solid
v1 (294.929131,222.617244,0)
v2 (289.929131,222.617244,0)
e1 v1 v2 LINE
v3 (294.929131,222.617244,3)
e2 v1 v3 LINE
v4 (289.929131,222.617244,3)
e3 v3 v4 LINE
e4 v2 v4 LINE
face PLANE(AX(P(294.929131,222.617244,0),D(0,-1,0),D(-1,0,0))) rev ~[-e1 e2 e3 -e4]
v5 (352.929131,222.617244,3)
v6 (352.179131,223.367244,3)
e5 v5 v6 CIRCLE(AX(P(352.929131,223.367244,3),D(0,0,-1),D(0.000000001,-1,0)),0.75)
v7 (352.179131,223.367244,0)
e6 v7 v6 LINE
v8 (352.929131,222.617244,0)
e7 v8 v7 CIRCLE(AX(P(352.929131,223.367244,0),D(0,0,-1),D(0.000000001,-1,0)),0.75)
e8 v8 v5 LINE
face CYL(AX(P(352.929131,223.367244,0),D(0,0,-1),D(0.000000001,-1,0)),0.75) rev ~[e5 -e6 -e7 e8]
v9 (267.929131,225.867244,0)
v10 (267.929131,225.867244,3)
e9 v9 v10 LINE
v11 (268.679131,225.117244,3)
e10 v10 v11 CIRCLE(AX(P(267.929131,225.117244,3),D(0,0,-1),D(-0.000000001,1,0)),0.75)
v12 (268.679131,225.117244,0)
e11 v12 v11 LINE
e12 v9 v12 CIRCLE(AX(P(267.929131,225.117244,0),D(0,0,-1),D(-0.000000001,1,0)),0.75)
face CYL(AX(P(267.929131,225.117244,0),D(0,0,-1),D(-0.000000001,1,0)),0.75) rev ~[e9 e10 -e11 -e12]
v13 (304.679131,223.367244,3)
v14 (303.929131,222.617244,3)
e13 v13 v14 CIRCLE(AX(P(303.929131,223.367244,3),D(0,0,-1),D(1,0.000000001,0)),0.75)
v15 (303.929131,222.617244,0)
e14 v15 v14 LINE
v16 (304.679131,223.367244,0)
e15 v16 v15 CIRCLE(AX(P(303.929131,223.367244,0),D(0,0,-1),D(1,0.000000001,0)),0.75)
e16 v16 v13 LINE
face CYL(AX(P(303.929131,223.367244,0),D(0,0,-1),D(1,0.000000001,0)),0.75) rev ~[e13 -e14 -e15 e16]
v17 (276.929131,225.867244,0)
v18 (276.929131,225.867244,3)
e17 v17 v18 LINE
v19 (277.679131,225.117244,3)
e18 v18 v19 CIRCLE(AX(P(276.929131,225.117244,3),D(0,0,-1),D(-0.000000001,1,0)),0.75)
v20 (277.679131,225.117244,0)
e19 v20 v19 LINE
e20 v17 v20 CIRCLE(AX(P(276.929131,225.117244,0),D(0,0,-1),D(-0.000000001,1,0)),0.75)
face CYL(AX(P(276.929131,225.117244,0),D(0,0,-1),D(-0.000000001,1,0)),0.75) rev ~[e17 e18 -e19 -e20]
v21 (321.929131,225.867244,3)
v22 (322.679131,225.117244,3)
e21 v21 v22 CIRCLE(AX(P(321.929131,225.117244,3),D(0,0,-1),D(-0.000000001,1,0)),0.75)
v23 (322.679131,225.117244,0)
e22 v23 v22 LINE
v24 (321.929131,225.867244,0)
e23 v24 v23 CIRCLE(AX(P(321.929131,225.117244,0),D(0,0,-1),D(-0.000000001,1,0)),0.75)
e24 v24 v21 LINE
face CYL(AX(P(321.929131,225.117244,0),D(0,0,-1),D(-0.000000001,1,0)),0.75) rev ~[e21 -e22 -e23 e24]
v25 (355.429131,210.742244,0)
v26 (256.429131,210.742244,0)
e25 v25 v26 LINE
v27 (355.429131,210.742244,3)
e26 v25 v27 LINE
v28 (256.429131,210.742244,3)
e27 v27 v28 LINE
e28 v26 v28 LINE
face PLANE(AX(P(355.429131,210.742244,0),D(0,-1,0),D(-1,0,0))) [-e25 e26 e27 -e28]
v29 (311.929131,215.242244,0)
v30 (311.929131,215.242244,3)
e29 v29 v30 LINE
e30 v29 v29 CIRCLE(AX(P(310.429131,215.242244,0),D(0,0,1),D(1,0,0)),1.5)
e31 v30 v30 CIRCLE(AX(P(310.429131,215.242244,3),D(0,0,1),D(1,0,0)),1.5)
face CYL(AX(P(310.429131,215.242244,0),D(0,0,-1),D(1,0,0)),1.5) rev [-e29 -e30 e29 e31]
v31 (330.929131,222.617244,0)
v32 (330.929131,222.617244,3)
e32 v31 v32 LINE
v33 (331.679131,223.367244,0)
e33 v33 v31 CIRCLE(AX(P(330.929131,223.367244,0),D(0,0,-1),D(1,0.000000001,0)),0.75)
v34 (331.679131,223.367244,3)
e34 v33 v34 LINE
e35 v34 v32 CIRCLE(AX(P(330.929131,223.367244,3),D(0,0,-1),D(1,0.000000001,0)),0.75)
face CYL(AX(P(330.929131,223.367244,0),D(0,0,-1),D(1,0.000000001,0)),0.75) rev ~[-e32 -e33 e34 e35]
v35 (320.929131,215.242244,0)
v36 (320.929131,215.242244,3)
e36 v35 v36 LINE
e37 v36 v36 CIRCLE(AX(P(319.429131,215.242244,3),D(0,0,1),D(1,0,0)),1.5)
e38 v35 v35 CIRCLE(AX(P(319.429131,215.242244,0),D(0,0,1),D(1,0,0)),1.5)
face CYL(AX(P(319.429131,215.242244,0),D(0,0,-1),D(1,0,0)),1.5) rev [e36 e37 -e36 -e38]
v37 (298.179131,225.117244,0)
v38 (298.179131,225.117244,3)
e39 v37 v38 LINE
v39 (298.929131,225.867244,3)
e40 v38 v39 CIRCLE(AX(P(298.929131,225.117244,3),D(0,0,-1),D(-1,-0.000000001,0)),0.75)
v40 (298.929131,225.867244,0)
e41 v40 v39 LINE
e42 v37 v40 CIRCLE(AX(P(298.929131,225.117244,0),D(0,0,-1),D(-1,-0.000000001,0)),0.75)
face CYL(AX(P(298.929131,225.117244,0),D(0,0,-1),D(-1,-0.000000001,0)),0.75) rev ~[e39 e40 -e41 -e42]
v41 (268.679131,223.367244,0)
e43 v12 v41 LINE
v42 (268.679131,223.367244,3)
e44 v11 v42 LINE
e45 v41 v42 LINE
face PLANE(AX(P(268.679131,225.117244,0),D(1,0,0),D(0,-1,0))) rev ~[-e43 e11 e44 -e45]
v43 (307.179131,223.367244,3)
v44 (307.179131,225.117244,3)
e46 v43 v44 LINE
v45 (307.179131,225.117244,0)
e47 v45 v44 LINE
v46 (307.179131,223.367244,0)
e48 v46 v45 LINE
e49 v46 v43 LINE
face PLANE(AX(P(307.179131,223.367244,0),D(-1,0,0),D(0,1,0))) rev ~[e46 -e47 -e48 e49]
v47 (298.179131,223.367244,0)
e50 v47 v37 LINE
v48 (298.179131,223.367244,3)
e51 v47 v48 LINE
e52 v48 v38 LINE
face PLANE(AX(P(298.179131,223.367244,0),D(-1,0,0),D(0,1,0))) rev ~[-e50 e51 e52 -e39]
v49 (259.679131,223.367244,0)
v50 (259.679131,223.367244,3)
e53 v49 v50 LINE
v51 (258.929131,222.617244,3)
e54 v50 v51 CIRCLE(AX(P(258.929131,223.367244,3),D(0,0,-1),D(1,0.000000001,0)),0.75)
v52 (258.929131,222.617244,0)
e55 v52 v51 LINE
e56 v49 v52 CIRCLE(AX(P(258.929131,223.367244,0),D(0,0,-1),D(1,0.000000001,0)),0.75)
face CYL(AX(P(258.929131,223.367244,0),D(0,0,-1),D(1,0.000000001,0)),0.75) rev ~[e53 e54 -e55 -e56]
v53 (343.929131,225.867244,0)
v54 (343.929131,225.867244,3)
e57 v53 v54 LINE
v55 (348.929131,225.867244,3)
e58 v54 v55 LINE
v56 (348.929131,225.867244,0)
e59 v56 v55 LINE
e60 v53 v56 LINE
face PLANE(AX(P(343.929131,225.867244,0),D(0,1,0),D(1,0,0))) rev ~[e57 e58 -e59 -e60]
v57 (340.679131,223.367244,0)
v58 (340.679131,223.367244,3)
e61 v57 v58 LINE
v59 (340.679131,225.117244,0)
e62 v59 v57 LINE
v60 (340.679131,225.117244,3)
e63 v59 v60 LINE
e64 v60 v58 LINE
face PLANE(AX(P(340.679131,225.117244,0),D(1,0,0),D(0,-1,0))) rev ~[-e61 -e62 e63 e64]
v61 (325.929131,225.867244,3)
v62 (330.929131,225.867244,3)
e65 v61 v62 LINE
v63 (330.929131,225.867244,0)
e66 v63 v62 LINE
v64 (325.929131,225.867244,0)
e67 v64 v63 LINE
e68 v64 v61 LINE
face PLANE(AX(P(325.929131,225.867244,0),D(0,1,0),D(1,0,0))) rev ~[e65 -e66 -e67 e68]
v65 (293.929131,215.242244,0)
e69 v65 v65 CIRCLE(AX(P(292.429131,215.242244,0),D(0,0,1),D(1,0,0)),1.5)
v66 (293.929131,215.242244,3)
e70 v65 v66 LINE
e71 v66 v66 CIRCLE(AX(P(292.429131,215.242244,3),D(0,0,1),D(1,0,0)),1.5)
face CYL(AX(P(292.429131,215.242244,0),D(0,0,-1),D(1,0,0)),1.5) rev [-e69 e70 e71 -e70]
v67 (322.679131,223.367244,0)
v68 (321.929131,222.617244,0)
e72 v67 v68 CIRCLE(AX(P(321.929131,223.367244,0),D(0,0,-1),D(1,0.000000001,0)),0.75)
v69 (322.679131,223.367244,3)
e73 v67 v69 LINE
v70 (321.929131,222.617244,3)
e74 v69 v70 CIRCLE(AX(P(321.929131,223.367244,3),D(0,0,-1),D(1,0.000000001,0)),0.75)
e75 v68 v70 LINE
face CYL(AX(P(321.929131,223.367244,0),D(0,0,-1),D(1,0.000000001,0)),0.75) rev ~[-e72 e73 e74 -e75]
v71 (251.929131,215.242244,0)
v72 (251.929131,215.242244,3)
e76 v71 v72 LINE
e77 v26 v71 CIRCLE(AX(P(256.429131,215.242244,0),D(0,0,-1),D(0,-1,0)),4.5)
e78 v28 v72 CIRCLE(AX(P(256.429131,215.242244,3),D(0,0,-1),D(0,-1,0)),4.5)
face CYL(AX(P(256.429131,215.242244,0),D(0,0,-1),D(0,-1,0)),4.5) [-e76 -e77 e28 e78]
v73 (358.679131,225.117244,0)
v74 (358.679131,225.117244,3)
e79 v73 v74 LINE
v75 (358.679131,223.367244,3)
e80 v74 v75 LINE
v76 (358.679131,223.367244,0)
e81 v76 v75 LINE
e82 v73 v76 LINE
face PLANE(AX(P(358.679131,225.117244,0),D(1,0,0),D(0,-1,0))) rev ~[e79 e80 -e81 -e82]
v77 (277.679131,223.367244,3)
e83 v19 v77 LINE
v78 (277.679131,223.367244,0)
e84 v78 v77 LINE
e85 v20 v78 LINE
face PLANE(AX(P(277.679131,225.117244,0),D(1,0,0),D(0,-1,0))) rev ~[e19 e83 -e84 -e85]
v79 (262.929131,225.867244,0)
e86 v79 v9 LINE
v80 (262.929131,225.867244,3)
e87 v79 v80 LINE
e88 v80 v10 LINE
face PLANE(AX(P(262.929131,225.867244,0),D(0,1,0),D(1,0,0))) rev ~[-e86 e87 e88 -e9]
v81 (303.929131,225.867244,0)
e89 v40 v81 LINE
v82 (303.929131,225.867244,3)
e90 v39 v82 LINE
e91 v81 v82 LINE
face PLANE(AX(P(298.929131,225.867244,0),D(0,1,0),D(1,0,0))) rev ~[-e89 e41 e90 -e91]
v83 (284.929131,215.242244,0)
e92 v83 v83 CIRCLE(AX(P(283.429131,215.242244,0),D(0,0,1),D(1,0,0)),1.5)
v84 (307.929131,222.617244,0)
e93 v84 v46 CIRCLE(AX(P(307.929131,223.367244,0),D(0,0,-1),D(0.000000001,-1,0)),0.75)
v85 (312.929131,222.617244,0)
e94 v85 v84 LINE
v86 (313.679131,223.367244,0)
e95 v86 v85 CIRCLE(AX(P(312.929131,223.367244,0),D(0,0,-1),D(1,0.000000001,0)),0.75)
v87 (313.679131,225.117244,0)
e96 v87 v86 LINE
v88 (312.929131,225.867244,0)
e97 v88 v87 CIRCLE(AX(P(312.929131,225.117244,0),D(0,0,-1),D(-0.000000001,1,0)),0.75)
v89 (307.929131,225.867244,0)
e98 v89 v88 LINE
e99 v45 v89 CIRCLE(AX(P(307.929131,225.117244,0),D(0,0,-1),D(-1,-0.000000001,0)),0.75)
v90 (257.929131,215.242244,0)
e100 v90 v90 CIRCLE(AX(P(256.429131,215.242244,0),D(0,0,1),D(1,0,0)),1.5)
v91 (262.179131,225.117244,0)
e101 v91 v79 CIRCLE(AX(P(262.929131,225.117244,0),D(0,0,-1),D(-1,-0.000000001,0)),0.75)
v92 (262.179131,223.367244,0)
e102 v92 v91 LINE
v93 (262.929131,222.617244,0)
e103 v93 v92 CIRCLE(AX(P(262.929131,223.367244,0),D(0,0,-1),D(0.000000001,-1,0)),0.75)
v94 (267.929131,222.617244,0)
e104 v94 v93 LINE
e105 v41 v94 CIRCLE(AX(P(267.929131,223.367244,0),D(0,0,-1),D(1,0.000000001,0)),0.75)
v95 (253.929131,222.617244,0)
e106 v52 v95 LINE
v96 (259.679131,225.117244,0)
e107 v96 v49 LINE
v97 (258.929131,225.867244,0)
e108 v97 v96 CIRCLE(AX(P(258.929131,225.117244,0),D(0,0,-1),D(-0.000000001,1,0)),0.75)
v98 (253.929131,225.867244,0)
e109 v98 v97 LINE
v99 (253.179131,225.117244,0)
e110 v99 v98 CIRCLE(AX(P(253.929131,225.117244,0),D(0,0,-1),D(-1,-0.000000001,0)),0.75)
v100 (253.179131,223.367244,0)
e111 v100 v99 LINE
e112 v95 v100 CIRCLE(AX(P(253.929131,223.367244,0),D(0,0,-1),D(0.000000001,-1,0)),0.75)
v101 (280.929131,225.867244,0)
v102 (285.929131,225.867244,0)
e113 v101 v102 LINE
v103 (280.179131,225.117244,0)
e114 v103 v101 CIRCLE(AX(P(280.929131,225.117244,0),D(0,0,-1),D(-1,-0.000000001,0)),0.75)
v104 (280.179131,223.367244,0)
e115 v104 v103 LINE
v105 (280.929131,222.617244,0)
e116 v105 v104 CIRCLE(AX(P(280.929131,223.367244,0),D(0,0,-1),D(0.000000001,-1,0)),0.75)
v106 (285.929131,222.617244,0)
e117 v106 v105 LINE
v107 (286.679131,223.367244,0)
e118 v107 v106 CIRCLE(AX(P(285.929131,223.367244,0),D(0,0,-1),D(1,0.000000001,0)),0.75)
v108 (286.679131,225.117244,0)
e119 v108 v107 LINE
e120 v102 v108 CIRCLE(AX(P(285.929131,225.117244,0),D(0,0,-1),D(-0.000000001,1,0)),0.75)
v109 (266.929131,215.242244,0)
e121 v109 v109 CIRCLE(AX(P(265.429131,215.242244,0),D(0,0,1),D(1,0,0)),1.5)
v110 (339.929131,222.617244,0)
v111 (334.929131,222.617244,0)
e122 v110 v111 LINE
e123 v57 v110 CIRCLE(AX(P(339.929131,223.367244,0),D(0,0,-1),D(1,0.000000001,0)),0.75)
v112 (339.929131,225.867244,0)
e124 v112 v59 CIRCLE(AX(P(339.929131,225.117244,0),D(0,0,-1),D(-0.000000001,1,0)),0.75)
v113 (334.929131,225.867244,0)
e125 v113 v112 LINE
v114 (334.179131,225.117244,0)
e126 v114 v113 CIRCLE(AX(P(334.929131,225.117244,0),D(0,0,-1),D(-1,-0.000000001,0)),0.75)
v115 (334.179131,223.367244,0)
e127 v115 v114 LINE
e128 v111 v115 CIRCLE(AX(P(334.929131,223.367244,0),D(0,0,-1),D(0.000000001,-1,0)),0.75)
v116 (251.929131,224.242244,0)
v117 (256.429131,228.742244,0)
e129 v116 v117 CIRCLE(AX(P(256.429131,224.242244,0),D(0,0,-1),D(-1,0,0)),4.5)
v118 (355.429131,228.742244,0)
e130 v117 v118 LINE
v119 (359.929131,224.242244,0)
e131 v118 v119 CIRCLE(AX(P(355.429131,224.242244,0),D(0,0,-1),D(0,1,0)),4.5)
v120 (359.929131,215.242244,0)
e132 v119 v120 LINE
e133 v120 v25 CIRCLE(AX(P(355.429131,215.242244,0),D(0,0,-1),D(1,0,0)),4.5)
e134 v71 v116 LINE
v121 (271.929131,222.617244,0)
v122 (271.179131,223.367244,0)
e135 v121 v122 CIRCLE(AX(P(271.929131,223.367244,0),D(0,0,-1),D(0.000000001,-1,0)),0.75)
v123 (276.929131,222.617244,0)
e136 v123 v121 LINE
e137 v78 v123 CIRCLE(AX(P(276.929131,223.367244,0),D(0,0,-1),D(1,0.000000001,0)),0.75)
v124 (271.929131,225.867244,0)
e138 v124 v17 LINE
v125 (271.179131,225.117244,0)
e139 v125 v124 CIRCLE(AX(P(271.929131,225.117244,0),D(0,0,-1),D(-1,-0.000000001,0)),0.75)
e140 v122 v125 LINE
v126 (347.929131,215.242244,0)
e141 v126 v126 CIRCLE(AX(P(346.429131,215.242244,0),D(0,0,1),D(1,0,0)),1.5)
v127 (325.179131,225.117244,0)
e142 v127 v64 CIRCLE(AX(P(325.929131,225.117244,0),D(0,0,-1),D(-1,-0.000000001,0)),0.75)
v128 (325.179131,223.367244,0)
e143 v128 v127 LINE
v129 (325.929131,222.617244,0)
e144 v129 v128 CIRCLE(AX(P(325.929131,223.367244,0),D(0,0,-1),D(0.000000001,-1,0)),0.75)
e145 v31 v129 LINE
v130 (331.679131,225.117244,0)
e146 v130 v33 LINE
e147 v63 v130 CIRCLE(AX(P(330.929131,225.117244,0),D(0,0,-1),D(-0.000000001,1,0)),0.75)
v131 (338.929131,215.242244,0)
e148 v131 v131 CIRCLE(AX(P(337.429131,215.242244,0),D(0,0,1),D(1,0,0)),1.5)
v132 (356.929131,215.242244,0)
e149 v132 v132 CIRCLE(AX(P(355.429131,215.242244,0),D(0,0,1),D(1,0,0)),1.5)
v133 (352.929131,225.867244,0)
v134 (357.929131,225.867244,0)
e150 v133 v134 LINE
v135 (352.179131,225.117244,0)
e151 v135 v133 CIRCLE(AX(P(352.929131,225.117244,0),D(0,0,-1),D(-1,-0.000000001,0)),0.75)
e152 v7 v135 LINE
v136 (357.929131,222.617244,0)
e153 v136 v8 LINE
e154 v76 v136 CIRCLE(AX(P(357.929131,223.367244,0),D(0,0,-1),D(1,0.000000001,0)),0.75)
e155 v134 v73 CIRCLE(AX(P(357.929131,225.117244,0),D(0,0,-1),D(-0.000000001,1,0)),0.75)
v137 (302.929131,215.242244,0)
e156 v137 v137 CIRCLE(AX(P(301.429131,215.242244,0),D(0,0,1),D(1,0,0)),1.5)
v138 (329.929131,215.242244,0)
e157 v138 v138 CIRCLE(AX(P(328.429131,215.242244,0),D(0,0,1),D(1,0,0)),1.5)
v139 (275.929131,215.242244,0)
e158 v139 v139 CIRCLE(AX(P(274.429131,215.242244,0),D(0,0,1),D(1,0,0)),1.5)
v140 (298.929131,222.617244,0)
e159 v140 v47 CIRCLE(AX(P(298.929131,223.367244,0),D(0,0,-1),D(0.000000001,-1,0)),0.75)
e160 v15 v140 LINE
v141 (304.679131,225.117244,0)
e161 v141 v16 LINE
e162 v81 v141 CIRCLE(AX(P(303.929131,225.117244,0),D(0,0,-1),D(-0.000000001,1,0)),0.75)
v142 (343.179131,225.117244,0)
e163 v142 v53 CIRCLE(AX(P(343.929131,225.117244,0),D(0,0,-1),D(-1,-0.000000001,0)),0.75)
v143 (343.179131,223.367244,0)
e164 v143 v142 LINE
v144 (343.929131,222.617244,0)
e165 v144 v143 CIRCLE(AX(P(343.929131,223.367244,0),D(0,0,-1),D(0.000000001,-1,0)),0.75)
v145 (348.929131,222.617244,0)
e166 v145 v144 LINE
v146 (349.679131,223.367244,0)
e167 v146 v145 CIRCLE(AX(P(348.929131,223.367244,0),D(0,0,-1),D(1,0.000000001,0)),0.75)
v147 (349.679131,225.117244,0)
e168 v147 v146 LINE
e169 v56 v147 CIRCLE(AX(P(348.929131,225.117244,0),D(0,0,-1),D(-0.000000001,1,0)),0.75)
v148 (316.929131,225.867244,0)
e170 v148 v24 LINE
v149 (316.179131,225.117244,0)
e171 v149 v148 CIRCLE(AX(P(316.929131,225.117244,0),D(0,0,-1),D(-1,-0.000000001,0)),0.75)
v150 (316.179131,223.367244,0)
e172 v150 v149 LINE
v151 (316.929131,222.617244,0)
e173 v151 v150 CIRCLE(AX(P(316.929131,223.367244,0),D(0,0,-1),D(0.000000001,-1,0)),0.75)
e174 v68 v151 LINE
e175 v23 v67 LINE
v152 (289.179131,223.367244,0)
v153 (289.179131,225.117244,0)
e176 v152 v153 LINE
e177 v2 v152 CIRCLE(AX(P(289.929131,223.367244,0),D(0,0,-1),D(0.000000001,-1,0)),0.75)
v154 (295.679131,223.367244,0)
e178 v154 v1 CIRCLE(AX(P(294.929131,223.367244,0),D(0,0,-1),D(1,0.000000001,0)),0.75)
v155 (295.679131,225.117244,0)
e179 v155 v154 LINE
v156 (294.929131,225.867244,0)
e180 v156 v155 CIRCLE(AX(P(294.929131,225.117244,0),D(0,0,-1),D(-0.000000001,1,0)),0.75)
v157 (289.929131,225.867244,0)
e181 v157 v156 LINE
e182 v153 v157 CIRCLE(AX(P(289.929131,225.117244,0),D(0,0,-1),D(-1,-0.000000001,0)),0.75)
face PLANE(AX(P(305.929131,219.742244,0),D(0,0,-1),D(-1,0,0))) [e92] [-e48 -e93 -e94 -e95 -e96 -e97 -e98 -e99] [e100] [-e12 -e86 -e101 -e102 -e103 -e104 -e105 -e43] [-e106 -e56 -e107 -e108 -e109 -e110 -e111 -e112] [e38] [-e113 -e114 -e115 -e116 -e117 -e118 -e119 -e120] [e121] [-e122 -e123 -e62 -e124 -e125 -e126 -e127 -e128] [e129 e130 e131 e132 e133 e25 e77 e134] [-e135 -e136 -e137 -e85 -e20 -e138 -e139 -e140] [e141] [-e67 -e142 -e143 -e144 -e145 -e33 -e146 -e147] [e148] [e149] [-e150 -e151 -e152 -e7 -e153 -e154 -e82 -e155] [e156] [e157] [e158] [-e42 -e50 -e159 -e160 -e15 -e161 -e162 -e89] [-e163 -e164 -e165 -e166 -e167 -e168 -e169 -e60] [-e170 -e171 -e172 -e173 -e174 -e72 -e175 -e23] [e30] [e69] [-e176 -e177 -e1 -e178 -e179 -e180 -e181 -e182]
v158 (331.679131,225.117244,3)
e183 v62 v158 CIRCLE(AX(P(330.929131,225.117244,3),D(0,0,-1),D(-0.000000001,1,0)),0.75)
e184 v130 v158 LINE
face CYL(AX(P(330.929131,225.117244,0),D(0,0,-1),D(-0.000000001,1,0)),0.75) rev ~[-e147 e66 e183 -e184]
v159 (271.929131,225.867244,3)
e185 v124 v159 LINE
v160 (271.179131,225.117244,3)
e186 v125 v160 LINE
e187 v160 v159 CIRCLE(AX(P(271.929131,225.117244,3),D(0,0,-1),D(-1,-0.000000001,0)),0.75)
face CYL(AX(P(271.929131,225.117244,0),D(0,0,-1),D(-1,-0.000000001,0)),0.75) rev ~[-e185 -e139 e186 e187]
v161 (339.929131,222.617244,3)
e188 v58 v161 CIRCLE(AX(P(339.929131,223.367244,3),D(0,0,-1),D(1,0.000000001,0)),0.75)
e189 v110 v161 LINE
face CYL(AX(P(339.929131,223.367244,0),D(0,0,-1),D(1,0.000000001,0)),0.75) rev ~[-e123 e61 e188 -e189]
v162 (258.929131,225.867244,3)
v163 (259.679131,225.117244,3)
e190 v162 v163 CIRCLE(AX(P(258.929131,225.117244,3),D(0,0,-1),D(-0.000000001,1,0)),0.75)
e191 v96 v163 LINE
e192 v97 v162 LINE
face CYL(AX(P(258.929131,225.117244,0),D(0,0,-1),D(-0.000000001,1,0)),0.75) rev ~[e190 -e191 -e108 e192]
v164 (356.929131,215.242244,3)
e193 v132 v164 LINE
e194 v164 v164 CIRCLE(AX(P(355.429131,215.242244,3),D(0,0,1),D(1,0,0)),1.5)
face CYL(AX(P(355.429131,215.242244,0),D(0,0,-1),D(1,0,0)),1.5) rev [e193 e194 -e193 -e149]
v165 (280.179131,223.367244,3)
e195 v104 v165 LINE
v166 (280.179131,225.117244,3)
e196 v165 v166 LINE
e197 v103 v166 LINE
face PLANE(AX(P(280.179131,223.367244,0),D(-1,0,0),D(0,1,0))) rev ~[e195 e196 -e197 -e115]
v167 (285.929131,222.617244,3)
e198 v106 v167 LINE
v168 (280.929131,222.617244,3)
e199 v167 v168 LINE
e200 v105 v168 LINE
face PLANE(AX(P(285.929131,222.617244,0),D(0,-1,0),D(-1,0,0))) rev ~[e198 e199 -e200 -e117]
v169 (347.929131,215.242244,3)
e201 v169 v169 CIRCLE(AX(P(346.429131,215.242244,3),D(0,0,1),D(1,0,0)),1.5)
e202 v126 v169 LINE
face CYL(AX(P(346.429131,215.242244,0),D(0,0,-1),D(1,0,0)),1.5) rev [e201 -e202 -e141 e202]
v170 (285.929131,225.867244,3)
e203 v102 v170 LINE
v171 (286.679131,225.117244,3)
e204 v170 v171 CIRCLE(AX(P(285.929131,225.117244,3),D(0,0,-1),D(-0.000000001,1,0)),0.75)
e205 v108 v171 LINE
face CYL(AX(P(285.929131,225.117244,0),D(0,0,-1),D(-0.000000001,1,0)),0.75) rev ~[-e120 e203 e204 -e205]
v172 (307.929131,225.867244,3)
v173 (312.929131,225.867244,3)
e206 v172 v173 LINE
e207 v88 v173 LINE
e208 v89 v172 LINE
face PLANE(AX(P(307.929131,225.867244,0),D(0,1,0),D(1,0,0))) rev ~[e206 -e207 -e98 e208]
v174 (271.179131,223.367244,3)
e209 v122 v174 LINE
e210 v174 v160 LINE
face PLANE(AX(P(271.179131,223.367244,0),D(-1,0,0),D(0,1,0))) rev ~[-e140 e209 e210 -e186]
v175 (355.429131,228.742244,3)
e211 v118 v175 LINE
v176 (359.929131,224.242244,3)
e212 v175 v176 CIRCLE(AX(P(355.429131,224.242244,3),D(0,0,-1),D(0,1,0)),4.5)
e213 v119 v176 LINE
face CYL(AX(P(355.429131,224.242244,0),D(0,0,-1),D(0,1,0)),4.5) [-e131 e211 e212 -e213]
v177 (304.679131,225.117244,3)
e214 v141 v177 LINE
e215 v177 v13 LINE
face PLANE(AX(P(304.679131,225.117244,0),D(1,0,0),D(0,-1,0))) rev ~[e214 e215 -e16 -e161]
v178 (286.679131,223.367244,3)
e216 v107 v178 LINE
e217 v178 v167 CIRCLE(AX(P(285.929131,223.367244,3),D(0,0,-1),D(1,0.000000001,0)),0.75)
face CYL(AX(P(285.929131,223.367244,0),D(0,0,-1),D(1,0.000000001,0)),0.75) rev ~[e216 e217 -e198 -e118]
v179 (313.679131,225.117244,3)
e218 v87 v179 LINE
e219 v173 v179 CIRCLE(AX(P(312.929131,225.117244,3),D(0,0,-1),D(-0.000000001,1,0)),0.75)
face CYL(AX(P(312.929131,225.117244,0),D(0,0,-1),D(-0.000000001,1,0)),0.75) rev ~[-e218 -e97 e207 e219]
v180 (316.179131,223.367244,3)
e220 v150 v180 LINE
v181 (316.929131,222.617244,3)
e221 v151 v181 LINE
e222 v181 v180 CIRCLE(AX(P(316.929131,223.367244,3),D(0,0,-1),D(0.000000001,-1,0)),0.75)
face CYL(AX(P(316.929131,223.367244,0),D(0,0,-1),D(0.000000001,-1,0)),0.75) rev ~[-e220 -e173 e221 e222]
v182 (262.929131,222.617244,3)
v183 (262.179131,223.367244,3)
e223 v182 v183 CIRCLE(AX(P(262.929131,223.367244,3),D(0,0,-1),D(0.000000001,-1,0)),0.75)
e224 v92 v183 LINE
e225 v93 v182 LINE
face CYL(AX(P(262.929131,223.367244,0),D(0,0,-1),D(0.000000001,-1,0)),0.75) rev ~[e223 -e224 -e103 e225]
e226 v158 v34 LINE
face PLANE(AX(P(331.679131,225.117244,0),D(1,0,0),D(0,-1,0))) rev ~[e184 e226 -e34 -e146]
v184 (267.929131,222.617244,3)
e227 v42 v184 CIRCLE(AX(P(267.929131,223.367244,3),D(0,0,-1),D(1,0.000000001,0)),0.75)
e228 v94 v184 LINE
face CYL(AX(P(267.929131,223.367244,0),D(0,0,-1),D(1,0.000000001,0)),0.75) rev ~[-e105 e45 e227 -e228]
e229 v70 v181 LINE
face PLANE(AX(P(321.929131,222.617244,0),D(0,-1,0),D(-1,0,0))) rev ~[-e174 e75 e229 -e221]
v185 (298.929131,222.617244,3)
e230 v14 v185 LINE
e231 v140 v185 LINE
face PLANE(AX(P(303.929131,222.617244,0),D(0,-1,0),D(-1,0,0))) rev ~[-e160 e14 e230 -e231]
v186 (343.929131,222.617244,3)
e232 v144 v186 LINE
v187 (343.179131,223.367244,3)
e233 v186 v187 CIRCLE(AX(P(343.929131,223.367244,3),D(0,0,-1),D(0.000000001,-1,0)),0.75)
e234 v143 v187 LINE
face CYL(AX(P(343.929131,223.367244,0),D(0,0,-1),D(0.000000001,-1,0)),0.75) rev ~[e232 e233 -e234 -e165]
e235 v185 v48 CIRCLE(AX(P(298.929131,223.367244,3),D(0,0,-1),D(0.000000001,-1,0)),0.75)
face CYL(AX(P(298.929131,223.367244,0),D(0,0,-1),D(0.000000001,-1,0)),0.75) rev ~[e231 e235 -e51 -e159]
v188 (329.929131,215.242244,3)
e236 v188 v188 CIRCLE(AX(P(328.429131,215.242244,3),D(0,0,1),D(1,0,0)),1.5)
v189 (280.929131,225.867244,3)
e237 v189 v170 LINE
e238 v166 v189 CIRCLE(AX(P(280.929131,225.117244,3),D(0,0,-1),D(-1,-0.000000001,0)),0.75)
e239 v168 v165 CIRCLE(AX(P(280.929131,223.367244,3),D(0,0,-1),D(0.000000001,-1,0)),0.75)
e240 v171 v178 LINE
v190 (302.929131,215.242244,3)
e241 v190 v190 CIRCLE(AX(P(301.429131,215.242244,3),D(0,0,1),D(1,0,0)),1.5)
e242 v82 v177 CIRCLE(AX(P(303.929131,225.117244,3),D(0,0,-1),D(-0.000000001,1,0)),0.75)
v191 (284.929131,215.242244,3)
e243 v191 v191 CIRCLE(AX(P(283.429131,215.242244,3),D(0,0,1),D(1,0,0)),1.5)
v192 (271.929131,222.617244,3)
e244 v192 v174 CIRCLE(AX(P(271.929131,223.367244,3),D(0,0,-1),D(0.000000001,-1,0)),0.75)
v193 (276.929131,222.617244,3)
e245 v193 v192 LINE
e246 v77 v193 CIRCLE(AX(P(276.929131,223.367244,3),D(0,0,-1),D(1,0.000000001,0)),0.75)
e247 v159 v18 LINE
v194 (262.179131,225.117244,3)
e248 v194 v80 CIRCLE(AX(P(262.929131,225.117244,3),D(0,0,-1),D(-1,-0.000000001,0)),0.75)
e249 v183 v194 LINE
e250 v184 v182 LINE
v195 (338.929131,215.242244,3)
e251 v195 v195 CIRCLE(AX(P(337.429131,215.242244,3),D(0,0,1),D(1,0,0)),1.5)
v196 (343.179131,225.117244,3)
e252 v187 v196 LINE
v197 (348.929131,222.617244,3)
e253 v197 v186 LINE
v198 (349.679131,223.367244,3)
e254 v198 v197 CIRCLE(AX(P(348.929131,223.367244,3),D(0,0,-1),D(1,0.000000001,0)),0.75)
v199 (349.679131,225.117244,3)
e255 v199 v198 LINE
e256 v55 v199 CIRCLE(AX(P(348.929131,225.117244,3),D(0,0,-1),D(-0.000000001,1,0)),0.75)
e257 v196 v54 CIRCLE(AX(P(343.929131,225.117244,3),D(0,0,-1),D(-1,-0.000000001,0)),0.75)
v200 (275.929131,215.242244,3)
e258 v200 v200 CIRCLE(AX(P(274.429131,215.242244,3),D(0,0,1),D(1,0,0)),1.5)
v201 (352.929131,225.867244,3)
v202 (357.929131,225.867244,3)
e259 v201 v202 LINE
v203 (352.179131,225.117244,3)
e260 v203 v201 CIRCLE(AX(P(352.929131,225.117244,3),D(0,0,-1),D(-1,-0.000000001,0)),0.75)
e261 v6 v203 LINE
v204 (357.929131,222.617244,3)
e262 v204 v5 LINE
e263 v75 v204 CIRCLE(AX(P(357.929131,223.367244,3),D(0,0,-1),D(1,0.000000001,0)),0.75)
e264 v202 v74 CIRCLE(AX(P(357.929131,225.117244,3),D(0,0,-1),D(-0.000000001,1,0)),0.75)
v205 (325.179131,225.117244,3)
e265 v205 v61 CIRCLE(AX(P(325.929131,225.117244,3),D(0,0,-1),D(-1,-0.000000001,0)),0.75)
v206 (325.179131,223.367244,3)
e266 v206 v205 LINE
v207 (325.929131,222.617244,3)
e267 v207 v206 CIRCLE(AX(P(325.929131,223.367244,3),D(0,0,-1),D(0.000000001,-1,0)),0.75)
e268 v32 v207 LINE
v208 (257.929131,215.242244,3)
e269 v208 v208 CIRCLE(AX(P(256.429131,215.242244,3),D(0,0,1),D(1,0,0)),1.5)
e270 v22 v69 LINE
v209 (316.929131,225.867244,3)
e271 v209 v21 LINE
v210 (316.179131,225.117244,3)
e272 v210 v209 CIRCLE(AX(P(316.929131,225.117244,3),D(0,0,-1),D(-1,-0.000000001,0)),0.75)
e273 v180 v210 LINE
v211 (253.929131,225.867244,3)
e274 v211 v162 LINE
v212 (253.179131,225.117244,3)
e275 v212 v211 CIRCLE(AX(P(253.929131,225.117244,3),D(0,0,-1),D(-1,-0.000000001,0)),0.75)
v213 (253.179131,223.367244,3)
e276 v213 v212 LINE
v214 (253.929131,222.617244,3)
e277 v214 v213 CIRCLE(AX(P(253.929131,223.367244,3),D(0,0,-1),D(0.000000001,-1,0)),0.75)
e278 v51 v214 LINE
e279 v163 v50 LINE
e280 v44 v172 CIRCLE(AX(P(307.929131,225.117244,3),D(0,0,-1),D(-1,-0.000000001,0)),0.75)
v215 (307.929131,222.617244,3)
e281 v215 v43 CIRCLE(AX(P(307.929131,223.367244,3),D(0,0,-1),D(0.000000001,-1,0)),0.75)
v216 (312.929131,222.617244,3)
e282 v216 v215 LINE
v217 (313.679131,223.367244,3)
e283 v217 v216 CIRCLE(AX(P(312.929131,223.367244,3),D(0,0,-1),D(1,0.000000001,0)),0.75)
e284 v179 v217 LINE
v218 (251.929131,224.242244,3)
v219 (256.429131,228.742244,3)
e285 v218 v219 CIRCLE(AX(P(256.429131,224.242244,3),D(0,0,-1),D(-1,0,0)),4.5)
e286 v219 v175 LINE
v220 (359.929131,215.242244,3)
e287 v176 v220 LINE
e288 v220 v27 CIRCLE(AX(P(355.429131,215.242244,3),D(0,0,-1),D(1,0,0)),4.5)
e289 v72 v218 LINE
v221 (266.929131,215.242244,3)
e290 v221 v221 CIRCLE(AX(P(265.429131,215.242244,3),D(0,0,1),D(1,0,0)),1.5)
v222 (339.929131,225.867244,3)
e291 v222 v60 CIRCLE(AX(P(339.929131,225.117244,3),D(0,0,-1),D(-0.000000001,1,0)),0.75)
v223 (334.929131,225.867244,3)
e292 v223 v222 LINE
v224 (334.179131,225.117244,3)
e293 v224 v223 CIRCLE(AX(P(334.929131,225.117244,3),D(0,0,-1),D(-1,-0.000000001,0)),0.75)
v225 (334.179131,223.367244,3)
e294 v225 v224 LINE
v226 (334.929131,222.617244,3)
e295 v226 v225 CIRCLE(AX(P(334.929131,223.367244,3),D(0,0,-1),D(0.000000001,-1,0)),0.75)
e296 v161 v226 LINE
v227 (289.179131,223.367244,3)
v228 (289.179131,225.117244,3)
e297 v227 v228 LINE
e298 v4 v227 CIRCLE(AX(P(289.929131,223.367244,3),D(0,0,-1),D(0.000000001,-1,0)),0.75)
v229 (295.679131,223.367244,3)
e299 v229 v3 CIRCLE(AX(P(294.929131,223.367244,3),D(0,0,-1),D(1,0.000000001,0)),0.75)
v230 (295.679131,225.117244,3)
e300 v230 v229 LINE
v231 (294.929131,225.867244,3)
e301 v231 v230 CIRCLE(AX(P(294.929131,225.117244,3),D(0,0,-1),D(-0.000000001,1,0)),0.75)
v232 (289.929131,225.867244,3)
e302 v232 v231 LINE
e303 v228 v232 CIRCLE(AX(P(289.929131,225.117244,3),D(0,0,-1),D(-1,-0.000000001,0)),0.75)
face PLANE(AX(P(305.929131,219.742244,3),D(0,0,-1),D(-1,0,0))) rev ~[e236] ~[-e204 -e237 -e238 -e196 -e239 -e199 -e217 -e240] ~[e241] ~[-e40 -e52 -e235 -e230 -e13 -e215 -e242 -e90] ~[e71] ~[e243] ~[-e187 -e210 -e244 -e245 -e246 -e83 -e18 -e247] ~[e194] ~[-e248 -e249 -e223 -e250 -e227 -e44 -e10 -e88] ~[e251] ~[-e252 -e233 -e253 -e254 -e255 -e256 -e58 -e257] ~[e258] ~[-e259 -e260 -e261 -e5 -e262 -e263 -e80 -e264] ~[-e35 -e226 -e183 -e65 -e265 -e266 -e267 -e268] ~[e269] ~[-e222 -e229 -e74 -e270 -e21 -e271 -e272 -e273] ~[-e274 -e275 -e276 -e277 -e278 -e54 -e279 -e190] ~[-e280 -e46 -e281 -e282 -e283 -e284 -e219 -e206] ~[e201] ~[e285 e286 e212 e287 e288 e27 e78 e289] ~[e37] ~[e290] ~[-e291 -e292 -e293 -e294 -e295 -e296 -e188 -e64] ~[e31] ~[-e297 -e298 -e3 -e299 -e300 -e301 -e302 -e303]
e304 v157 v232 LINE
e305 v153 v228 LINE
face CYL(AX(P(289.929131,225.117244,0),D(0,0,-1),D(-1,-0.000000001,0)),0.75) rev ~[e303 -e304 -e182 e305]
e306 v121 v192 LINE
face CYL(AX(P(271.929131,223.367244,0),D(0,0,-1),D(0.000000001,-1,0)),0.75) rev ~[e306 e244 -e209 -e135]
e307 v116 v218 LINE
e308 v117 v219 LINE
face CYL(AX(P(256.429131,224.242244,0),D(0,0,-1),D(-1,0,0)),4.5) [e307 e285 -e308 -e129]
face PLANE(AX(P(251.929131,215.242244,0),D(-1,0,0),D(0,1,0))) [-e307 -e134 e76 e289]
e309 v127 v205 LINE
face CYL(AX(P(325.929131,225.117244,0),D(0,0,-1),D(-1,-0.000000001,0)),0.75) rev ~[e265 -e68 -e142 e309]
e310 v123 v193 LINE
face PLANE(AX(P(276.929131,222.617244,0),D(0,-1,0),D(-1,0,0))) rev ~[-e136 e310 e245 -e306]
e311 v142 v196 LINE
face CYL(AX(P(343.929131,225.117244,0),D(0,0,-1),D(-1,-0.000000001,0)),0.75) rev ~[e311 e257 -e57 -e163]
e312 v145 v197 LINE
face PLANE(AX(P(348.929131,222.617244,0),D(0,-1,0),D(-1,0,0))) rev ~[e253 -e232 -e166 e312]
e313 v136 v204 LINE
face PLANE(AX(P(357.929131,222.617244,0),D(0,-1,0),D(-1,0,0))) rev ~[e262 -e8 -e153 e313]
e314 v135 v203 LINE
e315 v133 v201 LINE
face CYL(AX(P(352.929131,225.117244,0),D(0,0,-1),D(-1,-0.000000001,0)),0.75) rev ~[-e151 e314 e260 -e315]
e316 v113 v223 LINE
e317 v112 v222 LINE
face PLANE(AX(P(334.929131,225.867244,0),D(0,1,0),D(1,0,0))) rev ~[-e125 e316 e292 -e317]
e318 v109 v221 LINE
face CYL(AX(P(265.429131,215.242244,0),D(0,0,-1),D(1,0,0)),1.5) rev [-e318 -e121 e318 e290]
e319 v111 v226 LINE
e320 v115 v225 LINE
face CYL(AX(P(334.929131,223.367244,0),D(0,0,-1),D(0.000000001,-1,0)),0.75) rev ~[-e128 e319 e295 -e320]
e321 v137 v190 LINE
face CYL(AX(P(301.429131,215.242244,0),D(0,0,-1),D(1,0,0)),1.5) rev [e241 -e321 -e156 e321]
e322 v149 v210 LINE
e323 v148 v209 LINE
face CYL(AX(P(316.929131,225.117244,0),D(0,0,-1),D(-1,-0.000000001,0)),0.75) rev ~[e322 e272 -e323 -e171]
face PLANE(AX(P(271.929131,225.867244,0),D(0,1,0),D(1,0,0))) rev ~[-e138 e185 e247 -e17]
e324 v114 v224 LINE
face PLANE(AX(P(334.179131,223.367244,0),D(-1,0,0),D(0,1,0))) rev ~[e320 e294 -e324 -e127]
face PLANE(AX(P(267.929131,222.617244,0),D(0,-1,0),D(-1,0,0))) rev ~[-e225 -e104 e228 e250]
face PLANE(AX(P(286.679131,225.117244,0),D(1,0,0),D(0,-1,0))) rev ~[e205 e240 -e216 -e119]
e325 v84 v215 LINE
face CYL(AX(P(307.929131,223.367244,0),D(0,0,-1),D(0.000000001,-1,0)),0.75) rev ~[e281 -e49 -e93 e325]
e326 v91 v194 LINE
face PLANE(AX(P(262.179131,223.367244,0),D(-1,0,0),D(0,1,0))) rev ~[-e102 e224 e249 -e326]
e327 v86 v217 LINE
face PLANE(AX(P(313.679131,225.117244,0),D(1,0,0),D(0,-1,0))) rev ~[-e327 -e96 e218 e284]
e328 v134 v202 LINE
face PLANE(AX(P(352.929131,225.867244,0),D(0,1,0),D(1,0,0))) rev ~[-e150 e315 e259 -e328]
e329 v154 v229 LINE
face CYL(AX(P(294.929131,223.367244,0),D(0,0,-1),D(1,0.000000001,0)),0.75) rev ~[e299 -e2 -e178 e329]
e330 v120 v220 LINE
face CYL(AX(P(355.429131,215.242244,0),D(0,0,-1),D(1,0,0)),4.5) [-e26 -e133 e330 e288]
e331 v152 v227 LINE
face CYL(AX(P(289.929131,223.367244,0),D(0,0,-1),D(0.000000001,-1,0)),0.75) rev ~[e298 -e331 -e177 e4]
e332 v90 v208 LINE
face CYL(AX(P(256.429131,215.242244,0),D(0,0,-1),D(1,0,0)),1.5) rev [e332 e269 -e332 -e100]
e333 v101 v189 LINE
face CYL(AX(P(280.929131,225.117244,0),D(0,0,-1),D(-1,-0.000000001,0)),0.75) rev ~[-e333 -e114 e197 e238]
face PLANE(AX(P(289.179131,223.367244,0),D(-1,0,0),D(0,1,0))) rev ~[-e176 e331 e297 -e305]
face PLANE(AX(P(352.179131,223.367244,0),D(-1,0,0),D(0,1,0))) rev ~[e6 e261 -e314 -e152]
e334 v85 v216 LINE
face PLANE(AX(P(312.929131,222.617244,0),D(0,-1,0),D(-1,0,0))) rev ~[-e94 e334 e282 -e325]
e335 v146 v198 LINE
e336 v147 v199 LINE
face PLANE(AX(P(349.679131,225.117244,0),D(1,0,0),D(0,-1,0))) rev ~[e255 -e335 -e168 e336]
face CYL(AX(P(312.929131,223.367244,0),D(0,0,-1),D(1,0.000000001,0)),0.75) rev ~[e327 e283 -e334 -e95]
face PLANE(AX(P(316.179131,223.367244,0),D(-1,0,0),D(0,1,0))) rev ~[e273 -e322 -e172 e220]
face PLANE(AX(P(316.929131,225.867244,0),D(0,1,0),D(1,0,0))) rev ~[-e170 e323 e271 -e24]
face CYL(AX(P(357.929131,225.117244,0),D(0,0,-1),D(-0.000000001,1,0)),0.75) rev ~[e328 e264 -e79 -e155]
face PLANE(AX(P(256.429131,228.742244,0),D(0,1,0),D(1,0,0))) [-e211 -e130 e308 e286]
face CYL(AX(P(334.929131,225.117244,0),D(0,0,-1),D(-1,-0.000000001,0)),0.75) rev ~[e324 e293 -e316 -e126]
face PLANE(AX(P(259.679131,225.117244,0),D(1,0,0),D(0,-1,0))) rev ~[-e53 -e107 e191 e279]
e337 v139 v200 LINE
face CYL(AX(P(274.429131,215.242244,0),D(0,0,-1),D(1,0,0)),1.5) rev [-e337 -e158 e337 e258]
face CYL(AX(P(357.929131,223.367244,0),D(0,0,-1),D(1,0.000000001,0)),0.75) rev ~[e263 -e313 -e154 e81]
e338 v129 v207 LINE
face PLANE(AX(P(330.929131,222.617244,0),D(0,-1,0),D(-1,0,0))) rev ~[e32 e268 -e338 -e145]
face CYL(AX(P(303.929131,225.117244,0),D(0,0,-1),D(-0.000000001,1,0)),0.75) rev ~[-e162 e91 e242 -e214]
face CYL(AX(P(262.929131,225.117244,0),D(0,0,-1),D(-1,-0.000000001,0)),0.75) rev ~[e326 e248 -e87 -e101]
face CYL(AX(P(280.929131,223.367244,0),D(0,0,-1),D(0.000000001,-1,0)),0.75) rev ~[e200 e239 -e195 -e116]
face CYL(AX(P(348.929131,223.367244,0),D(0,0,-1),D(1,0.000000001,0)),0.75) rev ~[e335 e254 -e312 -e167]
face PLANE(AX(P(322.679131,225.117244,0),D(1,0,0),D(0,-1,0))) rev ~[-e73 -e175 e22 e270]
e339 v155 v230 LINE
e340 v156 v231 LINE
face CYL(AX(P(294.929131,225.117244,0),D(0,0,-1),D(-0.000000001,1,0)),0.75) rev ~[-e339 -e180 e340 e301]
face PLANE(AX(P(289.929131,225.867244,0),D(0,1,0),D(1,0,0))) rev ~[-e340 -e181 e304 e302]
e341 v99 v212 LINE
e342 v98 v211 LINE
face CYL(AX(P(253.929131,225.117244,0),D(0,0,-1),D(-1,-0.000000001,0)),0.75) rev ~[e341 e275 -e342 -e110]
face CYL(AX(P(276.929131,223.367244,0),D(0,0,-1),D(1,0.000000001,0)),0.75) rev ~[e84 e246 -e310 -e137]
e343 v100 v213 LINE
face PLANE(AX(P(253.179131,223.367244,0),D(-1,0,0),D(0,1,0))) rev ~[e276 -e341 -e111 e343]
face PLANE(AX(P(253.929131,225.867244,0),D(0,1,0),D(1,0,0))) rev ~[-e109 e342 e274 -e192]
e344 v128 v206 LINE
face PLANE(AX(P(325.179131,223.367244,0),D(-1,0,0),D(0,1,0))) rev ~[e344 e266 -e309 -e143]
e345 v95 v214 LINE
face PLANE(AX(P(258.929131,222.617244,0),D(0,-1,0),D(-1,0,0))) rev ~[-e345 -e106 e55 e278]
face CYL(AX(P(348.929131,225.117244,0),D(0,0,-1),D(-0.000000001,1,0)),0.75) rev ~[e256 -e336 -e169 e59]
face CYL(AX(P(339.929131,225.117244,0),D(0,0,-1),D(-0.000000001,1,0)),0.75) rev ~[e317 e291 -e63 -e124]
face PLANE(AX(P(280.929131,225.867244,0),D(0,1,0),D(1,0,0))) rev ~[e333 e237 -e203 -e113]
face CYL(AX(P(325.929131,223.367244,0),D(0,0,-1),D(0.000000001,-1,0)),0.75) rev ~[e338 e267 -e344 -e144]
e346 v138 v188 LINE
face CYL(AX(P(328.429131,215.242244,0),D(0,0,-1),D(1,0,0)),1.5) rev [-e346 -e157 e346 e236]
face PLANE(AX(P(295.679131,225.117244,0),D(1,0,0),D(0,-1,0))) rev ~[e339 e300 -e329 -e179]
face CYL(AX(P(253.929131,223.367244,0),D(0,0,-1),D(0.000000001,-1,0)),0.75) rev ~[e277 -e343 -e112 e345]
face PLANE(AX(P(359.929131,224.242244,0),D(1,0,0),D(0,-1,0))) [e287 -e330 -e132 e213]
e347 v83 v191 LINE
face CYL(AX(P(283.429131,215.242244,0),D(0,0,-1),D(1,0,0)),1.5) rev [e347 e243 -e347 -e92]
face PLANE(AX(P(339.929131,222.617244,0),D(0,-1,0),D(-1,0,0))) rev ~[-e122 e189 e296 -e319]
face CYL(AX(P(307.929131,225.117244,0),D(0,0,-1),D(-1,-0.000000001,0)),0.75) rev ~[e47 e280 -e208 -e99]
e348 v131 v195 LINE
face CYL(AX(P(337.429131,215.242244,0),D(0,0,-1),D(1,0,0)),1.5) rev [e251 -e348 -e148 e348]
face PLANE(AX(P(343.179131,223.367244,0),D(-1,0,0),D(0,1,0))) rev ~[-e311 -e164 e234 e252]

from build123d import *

# Parameters (mm, degrees)
MODEL_R                 = 1.5
SALIENTE_EXTRUIR1_DEPTH = 3


with BuildPart() as part:
    # Model → Saliente-Extruir1 (new body)
    with BuildSketch(Plane.XY):
        with BuildLine():
            Line((256.429131311, 228.742243614), (355.429131311, 228.742243614))
            ThreePointArc((355.429131311, 228.742243614), (358.611111826, 227.424224129), (359.929131311, 224.242243614))
            Line((359.929131311, 224.242243614), (359.929131311, 215.242243614))
            ThreePointArc((359.929131311, 215.242243614), (358.611111826, 212.060263099), (355.429131311, 210.742243614))
            Line((355.429131311, 210.742243614), (256.429131311, 210.742243614))
            ThreePointArc((256.429131311, 210.742243614), (253.247150795, 212.060263099), (251.929131311, 215.242243614))
            Line((251.929131311, 215.242243614), (251.929131311, 224.242243614))
            ThreePointArc((251.929131311, 224.242243614), (253.247150795, 227.424224129), (256.429131311, 228.742243614))
        make_face()
        with Locations((337.429131311, 215.242243614)):
            Circle(MODEL_R, mode=Mode.SUBTRACT)
        with Locations((319.429131311, 215.242243614)):
            Circle(MODEL_R, mode=Mode.SUBTRACT)
        with Locations((328.429131311, 215.242243614)):
            Circle(MODEL_R, mode=Mode.SUBTRACT)
        with Locations((310.429131311, 215.242243614)):
            Circle(MODEL_R, mode=Mode.SUBTRACT)
        with Locations((292.429131311, 215.242243614)):
            Circle(MODEL_R, mode=Mode.SUBTRACT)
        with Locations((301.429131311, 215.242243614)):
            Circle(MODEL_R, mode=Mode.SUBTRACT)
        with Locations((274.429131311, 215.242243614)):
            Circle(MODEL_R, mode=Mode.SUBTRACT)
        with Locations((283.429131311, 215.242243614)):
            Circle(MODEL_R, mode=Mode.SUBTRACT)
        with Locations((265.429131311, 215.242243614)):
            Circle(MODEL_R, mode=Mode.SUBTRACT)
        with Locations((256.429131311, 215.242243614)):
            Circle(MODEL_R, mode=Mode.SUBTRACT)
        with Locations((346.429131311, 215.242243614)):
            Circle(MODEL_R, mode=Mode.SUBTRACT)
        with Locations((355.429131311, 215.242243614)):
            Circle(MODEL_R, mode=Mode.SUBTRACT)
        with BuildLine():
            Line((267.929131311, 222.617243614), (262.929131311, 222.617243614))
            ThreePointArc((262.929131311, 222.617243614), (262.398801225, 222.836913528), (262.179131311, 223.367243614))
            Line((262.179131311, 223.367243614), (262.179131311, 225.117243614))
            ThreePointArc((262.179131311, 225.117243614), (262.398801225, 225.6475737), (262.929131311, 225.867243614))
            Line((262.929131311, 225.867243614), (267.929131311, 225.867243614))
            ThreePointArc((267.929131311, 225.867243614), (268.459461397, 225.6475737), (268.679131311, 225.117243614))
            Line((268.679131311, 225.117243614), (268.679131311, 223.367243614))
            ThreePointArc((268.679131311, 223.367243614), (268.459461397, 222.836913528), (267.929131311, 222.617243614))
        make_face(mode=Mode.SUBTRACT)
        with BuildLine():
            Line((285.929131311, 222.617243614), (280.929131311, 222.617243614))
            ThreePointArc((280.929131311, 222.617243614), (280.398801225, 222.836913528), (280.179131311, 223.367243614))
            Line((280.179131311, 223.367243614), (280.179131311, 225.117243614))
            ThreePointArc((280.179131311, 225.117243614), (280.398801225, 225.6475737), (280.929131311, 225.867243614))
            Line((280.929131311, 225.867243614), (285.929131311, 225.867243614))
            ThreePointArc((285.929131311, 225.867243614), (286.459461397, 225.6475737), (286.679131311, 225.117243614))
            Line((286.679131311, 225.117243614), (286.679131311, 223.367243614))
            ThreePointArc((286.679131311, 223.367243614), (286.459461397, 222.836913528), (285.929131311, 222.617243614))
        make_face(mode=Mode.SUBTRACT)
        with BuildLine():
            Line((258.929131311, 222.617243614), (253.929131311, 222.617243614))
            ThreePointArc((253.929131311, 222.617243614), (253.398801225, 222.836913528), (253.179131311, 223.367243614))
            Line((253.179131311, 223.367243614), (253.179131311, 225.117243614))
            ThreePointArc((253.179131311, 225.117243614), (253.398801225, 225.6475737), (253.929131311, 225.867243614))
            Line((253.929131311, 225.867243614), (258.929131311, 225.867243614))
            ThreePointArc((258.929131311, 225.867243614), (259.459461397, 225.6475737), (259.679131311, 225.117243614))
            Line((259.679131311, 225.117243614), (259.679131311, 223.367243614))
            ThreePointArc((259.679131311, 223.367243614), (259.459461397, 222.836913528), (258.929131311, 222.617243614))
        make_face(mode=Mode.SUBTRACT)
        with BuildLine():
            Line((276.929131311, 222.617243614), (271.929131311, 222.617243614))
            ThreePointArc((271.929131311, 222.617243614), (271.398801225, 222.836913528), (271.179131311, 223.367243614))
            Line((271.179131311, 223.367243614), (271.179131311, 225.117243614))
            ThreePointArc((271.179131311, 225.117243614), (271.398801225, 225.6475737), (271.929131311, 225.867243614))
            Line((271.929131311, 225.867243614), (276.929131311, 225.867243614))
            ThreePointArc((276.929131311, 225.867243614), (277.459461397, 225.6475737), (277.679131311, 225.117243614))
            Line((277.679131311, 225.117243614), (277.679131311, 223.367243614))
            ThreePointArc((277.679131311, 223.367243614), (277.459461397, 222.836913528), (276.929131311, 222.617243614))
        make_face(mode=Mode.SUBTRACT)
        with BuildLine():
            Line((294.929131311, 222.617243614), (289.929131311, 222.617243614))
            ThreePointArc((289.929131311, 222.617243614), (289.398801225, 222.836913528), (289.179131311, 223.367243614))
            Line((289.179131311, 223.367243614), (289.179131311, 225.117243614))
            ThreePointArc((289.179131311, 225.117243614), (289.398801225, 225.6475737), (289.929131311, 225.867243614))
            Line((289.929131311, 225.867243614), (294.929131311, 225.867243614))
            ThreePointArc((294.929131311, 225.867243614), (295.459461397, 225.6475737), (295.679131311, 225.117243614))
            Line((295.679131311, 225.117243614), (295.679131311, 223.367243614))
            ThreePointArc((295.679131311, 223.367243614), (295.459461397, 222.836913528), (294.929131311, 222.617243614))
        make_face(mode=Mode.SUBTRACT)
        with BuildLine():
            Line((303.929131311, 222.617243614), (298.929131311, 222.617243614))
            ThreePointArc((298.929131311, 222.617243614), (298.398801225, 222.836913528), (298.179131311, 223.367243614))
            Line((298.179131311, 223.367243614), (298.179131311, 225.117243614))
            ThreePointArc((298.179131311, 225.117243614), (298.398801225, 225.6475737), (298.929131311, 225.867243614))
            Line((298.929131311, 225.867243614), (303.929131311, 225.867243614))
            ThreePointArc((303.929131311, 225.867243614), (304.459461397, 225.6475737), (304.679131311, 225.117243614))
            Line((304.679131311, 225.117243614), (304.679131311, 223.367243614))
            ThreePointArc((304.679131311, 223.367243614), (304.459461397, 222.836913528), (303.929131311, 222.617243614))
        make_face(mode=Mode.SUBTRACT)
        with BuildLine():
            Line((321.929131311, 222.617243614), (316.929131311, 222.617243614))
            ThreePointArc((316.929131311, 222.617243614), (316.398801225, 222.836913528), (316.179131311, 223.367243614))
            Line((316.179131311, 223.367243614), (316.179131311, 225.117243614))
            ThreePointArc((316.179131311, 225.117243614), (316.398801225, 225.6475737), (316.929131311, 225.867243614))
            Line((316.929131311, 225.867243614), (321.929131311, 225.867243614))
            ThreePointArc((321.929131311, 225.867243614), (322.459461397, 225.6475737), (322.679131311, 225.117243614))
            Line((322.679131311, 225.117243614), (322.679131311, 223.367243614))
            ThreePointArc((322.679131311, 223.367243614), (322.459461397, 222.836913528), (321.929131311, 222.617243614))
        make_face(mode=Mode.SUBTRACT)
        with BuildLine():
            Line((312.929131311, 222.617243614), (307.929131311, 222.617243614))
            ThreePointArc((307.929131311, 222.617243614), (307.398801225, 222.836913528), (307.179131311, 223.367243614))
            Line((307.179131311, 223.367243614), (307.179131311, 225.117243614))
            ThreePointArc((307.179131311, 225.117243614), (307.398801225, 225.6475737), (307.929131311, 225.867243614))
            Line((307.929131311, 225.867243614), (312.929131311, 225.867243614))
            ThreePointArc((312.929131311, 225.867243614), (313.459461397, 225.6475737), (313.679131311, 225.117243614))
            Line((313.679131311, 225.117243614), (313.679131311, 223.367243614))
            ThreePointArc((313.679131311, 223.367243614), (313.459461397, 222.836913528), (312.929131311, 222.617243614))
        make_face(mode=Mode.SUBTRACT)
        with BuildLine():
            Line((357.929131311, 222.617243614), (352.929131311, 222.617243614))
            ThreePointArc((352.929131311, 222.617243614), (352.398801225, 222.836913528), (352.179131311, 223.367243614))
            Line((352.179131311, 223.367243614), (352.179131311, 225.117243614))
            ThreePointArc((352.179131311, 225.117243614), (352.398801225, 225.6475737), (352.929131311, 225.867243614))
            Line((352.929131311, 225.867243614), (357.929131311, 225.867243614))
            ThreePointArc((357.929131311, 225.867243614), (358.459461397, 225.6475737), (358.679131311, 225.117243614))
            Line((358.679131311, 225.117243614), (358.679131311, 223.367243614))
            ThreePointArc((358.679131311, 223.367243614), (358.459461397, 222.836913528), (357.929131311, 222.617243614))
        make_face(mode=Mode.SUBTRACT)
        with BuildLine():
            Line((348.929131311, 222.617243614), (343.929131311, 222.617243614))
            ThreePointArc((343.929131311, 222.617243614), (343.398801225, 222.836913528), (343.179131311, 223.367243614))
            Line((343.179131311, 223.367243614), (343.179131311, 225.117243614))
            ThreePointArc((343.179131311, 225.117243614), (343.398801225, 225.6475737), (343.929131311, 225.867243614))
            Line((343.929131311, 225.867243614), (348.929131311, 225.867243614))
            ThreePointArc((348.929131311, 225.867243614), (349.459461397, 225.6475737), (349.679131311, 225.117243614))
            Line((349.679131311, 225.117243614), (349.679131311, 223.367243614))
            ThreePointArc((349.679131311, 223.367243614), (349.459461397, 222.836913528), (348.929131311, 222.617243614))
        make_face(mode=Mode.SUBTRACT)
        with BuildLine():
            Line((339.929131311, 222.617243614), (334.929131311, 222.617243614))
            ThreePointArc((334.929131311, 222.617243614), (334.398801225, 222.836913528), (334.179131311, 223.367243614))
            Line((334.179131311, 223.367243614), (334.179131311, 225.117243614))
            ThreePointArc((334.179131311, 225.117243614), (334.398801225, 225.6475737), (334.929131311, 225.867243614))
            Line((334.929131311, 225.867243614), (339.929131311, 225.867243614))
            ThreePointArc((339.929131311, 225.867243614), (340.459461397, 225.6475737), (340.679131311, 225.117243614))
            Line((340.679131311, 225.117243614), (340.679131311, 223.367243614))
            ThreePointArc((340.679131311, 223.367243614), (340.459461397, 222.836913528), (339.929131311, 222.617243614))
        make_face(mode=Mode.SUBTRACT)
        with BuildLine():
            Line((330.929131311, 222.617243614), (325.929131311, 222.617243614))
            ThreePointArc((325.929131311, 222.617243614), (325.398801225, 222.836913528), (325.179131311, 223.367243614))
            Line((325.179131311, 223.367243614), (325.179131311, 225.117243614))
            ThreePointArc((325.179131311, 225.117243614), (325.398801225, 225.6475737), (325.929131311, 225.867243614))
            Line((325.929131311, 225.867243614), (330.929131311, 225.867243614))
            ThreePointArc((330.929131311, 225.867243614), (331.459461397, 225.6475737), (331.679131311, 225.117243614))
            Line((331.679131311, 225.117243614), (331.679131311, 223.367243614))
            ThreePointArc((331.679131311, 223.367243614), (331.459461397, 222.836913528), (330.929131311, 222.617243614))
        make_face(mode=Mode.SUBTRACT)
    extrude(amount=SALIENTE_EXTRUIR1_DEPTH)


solid = part.part
